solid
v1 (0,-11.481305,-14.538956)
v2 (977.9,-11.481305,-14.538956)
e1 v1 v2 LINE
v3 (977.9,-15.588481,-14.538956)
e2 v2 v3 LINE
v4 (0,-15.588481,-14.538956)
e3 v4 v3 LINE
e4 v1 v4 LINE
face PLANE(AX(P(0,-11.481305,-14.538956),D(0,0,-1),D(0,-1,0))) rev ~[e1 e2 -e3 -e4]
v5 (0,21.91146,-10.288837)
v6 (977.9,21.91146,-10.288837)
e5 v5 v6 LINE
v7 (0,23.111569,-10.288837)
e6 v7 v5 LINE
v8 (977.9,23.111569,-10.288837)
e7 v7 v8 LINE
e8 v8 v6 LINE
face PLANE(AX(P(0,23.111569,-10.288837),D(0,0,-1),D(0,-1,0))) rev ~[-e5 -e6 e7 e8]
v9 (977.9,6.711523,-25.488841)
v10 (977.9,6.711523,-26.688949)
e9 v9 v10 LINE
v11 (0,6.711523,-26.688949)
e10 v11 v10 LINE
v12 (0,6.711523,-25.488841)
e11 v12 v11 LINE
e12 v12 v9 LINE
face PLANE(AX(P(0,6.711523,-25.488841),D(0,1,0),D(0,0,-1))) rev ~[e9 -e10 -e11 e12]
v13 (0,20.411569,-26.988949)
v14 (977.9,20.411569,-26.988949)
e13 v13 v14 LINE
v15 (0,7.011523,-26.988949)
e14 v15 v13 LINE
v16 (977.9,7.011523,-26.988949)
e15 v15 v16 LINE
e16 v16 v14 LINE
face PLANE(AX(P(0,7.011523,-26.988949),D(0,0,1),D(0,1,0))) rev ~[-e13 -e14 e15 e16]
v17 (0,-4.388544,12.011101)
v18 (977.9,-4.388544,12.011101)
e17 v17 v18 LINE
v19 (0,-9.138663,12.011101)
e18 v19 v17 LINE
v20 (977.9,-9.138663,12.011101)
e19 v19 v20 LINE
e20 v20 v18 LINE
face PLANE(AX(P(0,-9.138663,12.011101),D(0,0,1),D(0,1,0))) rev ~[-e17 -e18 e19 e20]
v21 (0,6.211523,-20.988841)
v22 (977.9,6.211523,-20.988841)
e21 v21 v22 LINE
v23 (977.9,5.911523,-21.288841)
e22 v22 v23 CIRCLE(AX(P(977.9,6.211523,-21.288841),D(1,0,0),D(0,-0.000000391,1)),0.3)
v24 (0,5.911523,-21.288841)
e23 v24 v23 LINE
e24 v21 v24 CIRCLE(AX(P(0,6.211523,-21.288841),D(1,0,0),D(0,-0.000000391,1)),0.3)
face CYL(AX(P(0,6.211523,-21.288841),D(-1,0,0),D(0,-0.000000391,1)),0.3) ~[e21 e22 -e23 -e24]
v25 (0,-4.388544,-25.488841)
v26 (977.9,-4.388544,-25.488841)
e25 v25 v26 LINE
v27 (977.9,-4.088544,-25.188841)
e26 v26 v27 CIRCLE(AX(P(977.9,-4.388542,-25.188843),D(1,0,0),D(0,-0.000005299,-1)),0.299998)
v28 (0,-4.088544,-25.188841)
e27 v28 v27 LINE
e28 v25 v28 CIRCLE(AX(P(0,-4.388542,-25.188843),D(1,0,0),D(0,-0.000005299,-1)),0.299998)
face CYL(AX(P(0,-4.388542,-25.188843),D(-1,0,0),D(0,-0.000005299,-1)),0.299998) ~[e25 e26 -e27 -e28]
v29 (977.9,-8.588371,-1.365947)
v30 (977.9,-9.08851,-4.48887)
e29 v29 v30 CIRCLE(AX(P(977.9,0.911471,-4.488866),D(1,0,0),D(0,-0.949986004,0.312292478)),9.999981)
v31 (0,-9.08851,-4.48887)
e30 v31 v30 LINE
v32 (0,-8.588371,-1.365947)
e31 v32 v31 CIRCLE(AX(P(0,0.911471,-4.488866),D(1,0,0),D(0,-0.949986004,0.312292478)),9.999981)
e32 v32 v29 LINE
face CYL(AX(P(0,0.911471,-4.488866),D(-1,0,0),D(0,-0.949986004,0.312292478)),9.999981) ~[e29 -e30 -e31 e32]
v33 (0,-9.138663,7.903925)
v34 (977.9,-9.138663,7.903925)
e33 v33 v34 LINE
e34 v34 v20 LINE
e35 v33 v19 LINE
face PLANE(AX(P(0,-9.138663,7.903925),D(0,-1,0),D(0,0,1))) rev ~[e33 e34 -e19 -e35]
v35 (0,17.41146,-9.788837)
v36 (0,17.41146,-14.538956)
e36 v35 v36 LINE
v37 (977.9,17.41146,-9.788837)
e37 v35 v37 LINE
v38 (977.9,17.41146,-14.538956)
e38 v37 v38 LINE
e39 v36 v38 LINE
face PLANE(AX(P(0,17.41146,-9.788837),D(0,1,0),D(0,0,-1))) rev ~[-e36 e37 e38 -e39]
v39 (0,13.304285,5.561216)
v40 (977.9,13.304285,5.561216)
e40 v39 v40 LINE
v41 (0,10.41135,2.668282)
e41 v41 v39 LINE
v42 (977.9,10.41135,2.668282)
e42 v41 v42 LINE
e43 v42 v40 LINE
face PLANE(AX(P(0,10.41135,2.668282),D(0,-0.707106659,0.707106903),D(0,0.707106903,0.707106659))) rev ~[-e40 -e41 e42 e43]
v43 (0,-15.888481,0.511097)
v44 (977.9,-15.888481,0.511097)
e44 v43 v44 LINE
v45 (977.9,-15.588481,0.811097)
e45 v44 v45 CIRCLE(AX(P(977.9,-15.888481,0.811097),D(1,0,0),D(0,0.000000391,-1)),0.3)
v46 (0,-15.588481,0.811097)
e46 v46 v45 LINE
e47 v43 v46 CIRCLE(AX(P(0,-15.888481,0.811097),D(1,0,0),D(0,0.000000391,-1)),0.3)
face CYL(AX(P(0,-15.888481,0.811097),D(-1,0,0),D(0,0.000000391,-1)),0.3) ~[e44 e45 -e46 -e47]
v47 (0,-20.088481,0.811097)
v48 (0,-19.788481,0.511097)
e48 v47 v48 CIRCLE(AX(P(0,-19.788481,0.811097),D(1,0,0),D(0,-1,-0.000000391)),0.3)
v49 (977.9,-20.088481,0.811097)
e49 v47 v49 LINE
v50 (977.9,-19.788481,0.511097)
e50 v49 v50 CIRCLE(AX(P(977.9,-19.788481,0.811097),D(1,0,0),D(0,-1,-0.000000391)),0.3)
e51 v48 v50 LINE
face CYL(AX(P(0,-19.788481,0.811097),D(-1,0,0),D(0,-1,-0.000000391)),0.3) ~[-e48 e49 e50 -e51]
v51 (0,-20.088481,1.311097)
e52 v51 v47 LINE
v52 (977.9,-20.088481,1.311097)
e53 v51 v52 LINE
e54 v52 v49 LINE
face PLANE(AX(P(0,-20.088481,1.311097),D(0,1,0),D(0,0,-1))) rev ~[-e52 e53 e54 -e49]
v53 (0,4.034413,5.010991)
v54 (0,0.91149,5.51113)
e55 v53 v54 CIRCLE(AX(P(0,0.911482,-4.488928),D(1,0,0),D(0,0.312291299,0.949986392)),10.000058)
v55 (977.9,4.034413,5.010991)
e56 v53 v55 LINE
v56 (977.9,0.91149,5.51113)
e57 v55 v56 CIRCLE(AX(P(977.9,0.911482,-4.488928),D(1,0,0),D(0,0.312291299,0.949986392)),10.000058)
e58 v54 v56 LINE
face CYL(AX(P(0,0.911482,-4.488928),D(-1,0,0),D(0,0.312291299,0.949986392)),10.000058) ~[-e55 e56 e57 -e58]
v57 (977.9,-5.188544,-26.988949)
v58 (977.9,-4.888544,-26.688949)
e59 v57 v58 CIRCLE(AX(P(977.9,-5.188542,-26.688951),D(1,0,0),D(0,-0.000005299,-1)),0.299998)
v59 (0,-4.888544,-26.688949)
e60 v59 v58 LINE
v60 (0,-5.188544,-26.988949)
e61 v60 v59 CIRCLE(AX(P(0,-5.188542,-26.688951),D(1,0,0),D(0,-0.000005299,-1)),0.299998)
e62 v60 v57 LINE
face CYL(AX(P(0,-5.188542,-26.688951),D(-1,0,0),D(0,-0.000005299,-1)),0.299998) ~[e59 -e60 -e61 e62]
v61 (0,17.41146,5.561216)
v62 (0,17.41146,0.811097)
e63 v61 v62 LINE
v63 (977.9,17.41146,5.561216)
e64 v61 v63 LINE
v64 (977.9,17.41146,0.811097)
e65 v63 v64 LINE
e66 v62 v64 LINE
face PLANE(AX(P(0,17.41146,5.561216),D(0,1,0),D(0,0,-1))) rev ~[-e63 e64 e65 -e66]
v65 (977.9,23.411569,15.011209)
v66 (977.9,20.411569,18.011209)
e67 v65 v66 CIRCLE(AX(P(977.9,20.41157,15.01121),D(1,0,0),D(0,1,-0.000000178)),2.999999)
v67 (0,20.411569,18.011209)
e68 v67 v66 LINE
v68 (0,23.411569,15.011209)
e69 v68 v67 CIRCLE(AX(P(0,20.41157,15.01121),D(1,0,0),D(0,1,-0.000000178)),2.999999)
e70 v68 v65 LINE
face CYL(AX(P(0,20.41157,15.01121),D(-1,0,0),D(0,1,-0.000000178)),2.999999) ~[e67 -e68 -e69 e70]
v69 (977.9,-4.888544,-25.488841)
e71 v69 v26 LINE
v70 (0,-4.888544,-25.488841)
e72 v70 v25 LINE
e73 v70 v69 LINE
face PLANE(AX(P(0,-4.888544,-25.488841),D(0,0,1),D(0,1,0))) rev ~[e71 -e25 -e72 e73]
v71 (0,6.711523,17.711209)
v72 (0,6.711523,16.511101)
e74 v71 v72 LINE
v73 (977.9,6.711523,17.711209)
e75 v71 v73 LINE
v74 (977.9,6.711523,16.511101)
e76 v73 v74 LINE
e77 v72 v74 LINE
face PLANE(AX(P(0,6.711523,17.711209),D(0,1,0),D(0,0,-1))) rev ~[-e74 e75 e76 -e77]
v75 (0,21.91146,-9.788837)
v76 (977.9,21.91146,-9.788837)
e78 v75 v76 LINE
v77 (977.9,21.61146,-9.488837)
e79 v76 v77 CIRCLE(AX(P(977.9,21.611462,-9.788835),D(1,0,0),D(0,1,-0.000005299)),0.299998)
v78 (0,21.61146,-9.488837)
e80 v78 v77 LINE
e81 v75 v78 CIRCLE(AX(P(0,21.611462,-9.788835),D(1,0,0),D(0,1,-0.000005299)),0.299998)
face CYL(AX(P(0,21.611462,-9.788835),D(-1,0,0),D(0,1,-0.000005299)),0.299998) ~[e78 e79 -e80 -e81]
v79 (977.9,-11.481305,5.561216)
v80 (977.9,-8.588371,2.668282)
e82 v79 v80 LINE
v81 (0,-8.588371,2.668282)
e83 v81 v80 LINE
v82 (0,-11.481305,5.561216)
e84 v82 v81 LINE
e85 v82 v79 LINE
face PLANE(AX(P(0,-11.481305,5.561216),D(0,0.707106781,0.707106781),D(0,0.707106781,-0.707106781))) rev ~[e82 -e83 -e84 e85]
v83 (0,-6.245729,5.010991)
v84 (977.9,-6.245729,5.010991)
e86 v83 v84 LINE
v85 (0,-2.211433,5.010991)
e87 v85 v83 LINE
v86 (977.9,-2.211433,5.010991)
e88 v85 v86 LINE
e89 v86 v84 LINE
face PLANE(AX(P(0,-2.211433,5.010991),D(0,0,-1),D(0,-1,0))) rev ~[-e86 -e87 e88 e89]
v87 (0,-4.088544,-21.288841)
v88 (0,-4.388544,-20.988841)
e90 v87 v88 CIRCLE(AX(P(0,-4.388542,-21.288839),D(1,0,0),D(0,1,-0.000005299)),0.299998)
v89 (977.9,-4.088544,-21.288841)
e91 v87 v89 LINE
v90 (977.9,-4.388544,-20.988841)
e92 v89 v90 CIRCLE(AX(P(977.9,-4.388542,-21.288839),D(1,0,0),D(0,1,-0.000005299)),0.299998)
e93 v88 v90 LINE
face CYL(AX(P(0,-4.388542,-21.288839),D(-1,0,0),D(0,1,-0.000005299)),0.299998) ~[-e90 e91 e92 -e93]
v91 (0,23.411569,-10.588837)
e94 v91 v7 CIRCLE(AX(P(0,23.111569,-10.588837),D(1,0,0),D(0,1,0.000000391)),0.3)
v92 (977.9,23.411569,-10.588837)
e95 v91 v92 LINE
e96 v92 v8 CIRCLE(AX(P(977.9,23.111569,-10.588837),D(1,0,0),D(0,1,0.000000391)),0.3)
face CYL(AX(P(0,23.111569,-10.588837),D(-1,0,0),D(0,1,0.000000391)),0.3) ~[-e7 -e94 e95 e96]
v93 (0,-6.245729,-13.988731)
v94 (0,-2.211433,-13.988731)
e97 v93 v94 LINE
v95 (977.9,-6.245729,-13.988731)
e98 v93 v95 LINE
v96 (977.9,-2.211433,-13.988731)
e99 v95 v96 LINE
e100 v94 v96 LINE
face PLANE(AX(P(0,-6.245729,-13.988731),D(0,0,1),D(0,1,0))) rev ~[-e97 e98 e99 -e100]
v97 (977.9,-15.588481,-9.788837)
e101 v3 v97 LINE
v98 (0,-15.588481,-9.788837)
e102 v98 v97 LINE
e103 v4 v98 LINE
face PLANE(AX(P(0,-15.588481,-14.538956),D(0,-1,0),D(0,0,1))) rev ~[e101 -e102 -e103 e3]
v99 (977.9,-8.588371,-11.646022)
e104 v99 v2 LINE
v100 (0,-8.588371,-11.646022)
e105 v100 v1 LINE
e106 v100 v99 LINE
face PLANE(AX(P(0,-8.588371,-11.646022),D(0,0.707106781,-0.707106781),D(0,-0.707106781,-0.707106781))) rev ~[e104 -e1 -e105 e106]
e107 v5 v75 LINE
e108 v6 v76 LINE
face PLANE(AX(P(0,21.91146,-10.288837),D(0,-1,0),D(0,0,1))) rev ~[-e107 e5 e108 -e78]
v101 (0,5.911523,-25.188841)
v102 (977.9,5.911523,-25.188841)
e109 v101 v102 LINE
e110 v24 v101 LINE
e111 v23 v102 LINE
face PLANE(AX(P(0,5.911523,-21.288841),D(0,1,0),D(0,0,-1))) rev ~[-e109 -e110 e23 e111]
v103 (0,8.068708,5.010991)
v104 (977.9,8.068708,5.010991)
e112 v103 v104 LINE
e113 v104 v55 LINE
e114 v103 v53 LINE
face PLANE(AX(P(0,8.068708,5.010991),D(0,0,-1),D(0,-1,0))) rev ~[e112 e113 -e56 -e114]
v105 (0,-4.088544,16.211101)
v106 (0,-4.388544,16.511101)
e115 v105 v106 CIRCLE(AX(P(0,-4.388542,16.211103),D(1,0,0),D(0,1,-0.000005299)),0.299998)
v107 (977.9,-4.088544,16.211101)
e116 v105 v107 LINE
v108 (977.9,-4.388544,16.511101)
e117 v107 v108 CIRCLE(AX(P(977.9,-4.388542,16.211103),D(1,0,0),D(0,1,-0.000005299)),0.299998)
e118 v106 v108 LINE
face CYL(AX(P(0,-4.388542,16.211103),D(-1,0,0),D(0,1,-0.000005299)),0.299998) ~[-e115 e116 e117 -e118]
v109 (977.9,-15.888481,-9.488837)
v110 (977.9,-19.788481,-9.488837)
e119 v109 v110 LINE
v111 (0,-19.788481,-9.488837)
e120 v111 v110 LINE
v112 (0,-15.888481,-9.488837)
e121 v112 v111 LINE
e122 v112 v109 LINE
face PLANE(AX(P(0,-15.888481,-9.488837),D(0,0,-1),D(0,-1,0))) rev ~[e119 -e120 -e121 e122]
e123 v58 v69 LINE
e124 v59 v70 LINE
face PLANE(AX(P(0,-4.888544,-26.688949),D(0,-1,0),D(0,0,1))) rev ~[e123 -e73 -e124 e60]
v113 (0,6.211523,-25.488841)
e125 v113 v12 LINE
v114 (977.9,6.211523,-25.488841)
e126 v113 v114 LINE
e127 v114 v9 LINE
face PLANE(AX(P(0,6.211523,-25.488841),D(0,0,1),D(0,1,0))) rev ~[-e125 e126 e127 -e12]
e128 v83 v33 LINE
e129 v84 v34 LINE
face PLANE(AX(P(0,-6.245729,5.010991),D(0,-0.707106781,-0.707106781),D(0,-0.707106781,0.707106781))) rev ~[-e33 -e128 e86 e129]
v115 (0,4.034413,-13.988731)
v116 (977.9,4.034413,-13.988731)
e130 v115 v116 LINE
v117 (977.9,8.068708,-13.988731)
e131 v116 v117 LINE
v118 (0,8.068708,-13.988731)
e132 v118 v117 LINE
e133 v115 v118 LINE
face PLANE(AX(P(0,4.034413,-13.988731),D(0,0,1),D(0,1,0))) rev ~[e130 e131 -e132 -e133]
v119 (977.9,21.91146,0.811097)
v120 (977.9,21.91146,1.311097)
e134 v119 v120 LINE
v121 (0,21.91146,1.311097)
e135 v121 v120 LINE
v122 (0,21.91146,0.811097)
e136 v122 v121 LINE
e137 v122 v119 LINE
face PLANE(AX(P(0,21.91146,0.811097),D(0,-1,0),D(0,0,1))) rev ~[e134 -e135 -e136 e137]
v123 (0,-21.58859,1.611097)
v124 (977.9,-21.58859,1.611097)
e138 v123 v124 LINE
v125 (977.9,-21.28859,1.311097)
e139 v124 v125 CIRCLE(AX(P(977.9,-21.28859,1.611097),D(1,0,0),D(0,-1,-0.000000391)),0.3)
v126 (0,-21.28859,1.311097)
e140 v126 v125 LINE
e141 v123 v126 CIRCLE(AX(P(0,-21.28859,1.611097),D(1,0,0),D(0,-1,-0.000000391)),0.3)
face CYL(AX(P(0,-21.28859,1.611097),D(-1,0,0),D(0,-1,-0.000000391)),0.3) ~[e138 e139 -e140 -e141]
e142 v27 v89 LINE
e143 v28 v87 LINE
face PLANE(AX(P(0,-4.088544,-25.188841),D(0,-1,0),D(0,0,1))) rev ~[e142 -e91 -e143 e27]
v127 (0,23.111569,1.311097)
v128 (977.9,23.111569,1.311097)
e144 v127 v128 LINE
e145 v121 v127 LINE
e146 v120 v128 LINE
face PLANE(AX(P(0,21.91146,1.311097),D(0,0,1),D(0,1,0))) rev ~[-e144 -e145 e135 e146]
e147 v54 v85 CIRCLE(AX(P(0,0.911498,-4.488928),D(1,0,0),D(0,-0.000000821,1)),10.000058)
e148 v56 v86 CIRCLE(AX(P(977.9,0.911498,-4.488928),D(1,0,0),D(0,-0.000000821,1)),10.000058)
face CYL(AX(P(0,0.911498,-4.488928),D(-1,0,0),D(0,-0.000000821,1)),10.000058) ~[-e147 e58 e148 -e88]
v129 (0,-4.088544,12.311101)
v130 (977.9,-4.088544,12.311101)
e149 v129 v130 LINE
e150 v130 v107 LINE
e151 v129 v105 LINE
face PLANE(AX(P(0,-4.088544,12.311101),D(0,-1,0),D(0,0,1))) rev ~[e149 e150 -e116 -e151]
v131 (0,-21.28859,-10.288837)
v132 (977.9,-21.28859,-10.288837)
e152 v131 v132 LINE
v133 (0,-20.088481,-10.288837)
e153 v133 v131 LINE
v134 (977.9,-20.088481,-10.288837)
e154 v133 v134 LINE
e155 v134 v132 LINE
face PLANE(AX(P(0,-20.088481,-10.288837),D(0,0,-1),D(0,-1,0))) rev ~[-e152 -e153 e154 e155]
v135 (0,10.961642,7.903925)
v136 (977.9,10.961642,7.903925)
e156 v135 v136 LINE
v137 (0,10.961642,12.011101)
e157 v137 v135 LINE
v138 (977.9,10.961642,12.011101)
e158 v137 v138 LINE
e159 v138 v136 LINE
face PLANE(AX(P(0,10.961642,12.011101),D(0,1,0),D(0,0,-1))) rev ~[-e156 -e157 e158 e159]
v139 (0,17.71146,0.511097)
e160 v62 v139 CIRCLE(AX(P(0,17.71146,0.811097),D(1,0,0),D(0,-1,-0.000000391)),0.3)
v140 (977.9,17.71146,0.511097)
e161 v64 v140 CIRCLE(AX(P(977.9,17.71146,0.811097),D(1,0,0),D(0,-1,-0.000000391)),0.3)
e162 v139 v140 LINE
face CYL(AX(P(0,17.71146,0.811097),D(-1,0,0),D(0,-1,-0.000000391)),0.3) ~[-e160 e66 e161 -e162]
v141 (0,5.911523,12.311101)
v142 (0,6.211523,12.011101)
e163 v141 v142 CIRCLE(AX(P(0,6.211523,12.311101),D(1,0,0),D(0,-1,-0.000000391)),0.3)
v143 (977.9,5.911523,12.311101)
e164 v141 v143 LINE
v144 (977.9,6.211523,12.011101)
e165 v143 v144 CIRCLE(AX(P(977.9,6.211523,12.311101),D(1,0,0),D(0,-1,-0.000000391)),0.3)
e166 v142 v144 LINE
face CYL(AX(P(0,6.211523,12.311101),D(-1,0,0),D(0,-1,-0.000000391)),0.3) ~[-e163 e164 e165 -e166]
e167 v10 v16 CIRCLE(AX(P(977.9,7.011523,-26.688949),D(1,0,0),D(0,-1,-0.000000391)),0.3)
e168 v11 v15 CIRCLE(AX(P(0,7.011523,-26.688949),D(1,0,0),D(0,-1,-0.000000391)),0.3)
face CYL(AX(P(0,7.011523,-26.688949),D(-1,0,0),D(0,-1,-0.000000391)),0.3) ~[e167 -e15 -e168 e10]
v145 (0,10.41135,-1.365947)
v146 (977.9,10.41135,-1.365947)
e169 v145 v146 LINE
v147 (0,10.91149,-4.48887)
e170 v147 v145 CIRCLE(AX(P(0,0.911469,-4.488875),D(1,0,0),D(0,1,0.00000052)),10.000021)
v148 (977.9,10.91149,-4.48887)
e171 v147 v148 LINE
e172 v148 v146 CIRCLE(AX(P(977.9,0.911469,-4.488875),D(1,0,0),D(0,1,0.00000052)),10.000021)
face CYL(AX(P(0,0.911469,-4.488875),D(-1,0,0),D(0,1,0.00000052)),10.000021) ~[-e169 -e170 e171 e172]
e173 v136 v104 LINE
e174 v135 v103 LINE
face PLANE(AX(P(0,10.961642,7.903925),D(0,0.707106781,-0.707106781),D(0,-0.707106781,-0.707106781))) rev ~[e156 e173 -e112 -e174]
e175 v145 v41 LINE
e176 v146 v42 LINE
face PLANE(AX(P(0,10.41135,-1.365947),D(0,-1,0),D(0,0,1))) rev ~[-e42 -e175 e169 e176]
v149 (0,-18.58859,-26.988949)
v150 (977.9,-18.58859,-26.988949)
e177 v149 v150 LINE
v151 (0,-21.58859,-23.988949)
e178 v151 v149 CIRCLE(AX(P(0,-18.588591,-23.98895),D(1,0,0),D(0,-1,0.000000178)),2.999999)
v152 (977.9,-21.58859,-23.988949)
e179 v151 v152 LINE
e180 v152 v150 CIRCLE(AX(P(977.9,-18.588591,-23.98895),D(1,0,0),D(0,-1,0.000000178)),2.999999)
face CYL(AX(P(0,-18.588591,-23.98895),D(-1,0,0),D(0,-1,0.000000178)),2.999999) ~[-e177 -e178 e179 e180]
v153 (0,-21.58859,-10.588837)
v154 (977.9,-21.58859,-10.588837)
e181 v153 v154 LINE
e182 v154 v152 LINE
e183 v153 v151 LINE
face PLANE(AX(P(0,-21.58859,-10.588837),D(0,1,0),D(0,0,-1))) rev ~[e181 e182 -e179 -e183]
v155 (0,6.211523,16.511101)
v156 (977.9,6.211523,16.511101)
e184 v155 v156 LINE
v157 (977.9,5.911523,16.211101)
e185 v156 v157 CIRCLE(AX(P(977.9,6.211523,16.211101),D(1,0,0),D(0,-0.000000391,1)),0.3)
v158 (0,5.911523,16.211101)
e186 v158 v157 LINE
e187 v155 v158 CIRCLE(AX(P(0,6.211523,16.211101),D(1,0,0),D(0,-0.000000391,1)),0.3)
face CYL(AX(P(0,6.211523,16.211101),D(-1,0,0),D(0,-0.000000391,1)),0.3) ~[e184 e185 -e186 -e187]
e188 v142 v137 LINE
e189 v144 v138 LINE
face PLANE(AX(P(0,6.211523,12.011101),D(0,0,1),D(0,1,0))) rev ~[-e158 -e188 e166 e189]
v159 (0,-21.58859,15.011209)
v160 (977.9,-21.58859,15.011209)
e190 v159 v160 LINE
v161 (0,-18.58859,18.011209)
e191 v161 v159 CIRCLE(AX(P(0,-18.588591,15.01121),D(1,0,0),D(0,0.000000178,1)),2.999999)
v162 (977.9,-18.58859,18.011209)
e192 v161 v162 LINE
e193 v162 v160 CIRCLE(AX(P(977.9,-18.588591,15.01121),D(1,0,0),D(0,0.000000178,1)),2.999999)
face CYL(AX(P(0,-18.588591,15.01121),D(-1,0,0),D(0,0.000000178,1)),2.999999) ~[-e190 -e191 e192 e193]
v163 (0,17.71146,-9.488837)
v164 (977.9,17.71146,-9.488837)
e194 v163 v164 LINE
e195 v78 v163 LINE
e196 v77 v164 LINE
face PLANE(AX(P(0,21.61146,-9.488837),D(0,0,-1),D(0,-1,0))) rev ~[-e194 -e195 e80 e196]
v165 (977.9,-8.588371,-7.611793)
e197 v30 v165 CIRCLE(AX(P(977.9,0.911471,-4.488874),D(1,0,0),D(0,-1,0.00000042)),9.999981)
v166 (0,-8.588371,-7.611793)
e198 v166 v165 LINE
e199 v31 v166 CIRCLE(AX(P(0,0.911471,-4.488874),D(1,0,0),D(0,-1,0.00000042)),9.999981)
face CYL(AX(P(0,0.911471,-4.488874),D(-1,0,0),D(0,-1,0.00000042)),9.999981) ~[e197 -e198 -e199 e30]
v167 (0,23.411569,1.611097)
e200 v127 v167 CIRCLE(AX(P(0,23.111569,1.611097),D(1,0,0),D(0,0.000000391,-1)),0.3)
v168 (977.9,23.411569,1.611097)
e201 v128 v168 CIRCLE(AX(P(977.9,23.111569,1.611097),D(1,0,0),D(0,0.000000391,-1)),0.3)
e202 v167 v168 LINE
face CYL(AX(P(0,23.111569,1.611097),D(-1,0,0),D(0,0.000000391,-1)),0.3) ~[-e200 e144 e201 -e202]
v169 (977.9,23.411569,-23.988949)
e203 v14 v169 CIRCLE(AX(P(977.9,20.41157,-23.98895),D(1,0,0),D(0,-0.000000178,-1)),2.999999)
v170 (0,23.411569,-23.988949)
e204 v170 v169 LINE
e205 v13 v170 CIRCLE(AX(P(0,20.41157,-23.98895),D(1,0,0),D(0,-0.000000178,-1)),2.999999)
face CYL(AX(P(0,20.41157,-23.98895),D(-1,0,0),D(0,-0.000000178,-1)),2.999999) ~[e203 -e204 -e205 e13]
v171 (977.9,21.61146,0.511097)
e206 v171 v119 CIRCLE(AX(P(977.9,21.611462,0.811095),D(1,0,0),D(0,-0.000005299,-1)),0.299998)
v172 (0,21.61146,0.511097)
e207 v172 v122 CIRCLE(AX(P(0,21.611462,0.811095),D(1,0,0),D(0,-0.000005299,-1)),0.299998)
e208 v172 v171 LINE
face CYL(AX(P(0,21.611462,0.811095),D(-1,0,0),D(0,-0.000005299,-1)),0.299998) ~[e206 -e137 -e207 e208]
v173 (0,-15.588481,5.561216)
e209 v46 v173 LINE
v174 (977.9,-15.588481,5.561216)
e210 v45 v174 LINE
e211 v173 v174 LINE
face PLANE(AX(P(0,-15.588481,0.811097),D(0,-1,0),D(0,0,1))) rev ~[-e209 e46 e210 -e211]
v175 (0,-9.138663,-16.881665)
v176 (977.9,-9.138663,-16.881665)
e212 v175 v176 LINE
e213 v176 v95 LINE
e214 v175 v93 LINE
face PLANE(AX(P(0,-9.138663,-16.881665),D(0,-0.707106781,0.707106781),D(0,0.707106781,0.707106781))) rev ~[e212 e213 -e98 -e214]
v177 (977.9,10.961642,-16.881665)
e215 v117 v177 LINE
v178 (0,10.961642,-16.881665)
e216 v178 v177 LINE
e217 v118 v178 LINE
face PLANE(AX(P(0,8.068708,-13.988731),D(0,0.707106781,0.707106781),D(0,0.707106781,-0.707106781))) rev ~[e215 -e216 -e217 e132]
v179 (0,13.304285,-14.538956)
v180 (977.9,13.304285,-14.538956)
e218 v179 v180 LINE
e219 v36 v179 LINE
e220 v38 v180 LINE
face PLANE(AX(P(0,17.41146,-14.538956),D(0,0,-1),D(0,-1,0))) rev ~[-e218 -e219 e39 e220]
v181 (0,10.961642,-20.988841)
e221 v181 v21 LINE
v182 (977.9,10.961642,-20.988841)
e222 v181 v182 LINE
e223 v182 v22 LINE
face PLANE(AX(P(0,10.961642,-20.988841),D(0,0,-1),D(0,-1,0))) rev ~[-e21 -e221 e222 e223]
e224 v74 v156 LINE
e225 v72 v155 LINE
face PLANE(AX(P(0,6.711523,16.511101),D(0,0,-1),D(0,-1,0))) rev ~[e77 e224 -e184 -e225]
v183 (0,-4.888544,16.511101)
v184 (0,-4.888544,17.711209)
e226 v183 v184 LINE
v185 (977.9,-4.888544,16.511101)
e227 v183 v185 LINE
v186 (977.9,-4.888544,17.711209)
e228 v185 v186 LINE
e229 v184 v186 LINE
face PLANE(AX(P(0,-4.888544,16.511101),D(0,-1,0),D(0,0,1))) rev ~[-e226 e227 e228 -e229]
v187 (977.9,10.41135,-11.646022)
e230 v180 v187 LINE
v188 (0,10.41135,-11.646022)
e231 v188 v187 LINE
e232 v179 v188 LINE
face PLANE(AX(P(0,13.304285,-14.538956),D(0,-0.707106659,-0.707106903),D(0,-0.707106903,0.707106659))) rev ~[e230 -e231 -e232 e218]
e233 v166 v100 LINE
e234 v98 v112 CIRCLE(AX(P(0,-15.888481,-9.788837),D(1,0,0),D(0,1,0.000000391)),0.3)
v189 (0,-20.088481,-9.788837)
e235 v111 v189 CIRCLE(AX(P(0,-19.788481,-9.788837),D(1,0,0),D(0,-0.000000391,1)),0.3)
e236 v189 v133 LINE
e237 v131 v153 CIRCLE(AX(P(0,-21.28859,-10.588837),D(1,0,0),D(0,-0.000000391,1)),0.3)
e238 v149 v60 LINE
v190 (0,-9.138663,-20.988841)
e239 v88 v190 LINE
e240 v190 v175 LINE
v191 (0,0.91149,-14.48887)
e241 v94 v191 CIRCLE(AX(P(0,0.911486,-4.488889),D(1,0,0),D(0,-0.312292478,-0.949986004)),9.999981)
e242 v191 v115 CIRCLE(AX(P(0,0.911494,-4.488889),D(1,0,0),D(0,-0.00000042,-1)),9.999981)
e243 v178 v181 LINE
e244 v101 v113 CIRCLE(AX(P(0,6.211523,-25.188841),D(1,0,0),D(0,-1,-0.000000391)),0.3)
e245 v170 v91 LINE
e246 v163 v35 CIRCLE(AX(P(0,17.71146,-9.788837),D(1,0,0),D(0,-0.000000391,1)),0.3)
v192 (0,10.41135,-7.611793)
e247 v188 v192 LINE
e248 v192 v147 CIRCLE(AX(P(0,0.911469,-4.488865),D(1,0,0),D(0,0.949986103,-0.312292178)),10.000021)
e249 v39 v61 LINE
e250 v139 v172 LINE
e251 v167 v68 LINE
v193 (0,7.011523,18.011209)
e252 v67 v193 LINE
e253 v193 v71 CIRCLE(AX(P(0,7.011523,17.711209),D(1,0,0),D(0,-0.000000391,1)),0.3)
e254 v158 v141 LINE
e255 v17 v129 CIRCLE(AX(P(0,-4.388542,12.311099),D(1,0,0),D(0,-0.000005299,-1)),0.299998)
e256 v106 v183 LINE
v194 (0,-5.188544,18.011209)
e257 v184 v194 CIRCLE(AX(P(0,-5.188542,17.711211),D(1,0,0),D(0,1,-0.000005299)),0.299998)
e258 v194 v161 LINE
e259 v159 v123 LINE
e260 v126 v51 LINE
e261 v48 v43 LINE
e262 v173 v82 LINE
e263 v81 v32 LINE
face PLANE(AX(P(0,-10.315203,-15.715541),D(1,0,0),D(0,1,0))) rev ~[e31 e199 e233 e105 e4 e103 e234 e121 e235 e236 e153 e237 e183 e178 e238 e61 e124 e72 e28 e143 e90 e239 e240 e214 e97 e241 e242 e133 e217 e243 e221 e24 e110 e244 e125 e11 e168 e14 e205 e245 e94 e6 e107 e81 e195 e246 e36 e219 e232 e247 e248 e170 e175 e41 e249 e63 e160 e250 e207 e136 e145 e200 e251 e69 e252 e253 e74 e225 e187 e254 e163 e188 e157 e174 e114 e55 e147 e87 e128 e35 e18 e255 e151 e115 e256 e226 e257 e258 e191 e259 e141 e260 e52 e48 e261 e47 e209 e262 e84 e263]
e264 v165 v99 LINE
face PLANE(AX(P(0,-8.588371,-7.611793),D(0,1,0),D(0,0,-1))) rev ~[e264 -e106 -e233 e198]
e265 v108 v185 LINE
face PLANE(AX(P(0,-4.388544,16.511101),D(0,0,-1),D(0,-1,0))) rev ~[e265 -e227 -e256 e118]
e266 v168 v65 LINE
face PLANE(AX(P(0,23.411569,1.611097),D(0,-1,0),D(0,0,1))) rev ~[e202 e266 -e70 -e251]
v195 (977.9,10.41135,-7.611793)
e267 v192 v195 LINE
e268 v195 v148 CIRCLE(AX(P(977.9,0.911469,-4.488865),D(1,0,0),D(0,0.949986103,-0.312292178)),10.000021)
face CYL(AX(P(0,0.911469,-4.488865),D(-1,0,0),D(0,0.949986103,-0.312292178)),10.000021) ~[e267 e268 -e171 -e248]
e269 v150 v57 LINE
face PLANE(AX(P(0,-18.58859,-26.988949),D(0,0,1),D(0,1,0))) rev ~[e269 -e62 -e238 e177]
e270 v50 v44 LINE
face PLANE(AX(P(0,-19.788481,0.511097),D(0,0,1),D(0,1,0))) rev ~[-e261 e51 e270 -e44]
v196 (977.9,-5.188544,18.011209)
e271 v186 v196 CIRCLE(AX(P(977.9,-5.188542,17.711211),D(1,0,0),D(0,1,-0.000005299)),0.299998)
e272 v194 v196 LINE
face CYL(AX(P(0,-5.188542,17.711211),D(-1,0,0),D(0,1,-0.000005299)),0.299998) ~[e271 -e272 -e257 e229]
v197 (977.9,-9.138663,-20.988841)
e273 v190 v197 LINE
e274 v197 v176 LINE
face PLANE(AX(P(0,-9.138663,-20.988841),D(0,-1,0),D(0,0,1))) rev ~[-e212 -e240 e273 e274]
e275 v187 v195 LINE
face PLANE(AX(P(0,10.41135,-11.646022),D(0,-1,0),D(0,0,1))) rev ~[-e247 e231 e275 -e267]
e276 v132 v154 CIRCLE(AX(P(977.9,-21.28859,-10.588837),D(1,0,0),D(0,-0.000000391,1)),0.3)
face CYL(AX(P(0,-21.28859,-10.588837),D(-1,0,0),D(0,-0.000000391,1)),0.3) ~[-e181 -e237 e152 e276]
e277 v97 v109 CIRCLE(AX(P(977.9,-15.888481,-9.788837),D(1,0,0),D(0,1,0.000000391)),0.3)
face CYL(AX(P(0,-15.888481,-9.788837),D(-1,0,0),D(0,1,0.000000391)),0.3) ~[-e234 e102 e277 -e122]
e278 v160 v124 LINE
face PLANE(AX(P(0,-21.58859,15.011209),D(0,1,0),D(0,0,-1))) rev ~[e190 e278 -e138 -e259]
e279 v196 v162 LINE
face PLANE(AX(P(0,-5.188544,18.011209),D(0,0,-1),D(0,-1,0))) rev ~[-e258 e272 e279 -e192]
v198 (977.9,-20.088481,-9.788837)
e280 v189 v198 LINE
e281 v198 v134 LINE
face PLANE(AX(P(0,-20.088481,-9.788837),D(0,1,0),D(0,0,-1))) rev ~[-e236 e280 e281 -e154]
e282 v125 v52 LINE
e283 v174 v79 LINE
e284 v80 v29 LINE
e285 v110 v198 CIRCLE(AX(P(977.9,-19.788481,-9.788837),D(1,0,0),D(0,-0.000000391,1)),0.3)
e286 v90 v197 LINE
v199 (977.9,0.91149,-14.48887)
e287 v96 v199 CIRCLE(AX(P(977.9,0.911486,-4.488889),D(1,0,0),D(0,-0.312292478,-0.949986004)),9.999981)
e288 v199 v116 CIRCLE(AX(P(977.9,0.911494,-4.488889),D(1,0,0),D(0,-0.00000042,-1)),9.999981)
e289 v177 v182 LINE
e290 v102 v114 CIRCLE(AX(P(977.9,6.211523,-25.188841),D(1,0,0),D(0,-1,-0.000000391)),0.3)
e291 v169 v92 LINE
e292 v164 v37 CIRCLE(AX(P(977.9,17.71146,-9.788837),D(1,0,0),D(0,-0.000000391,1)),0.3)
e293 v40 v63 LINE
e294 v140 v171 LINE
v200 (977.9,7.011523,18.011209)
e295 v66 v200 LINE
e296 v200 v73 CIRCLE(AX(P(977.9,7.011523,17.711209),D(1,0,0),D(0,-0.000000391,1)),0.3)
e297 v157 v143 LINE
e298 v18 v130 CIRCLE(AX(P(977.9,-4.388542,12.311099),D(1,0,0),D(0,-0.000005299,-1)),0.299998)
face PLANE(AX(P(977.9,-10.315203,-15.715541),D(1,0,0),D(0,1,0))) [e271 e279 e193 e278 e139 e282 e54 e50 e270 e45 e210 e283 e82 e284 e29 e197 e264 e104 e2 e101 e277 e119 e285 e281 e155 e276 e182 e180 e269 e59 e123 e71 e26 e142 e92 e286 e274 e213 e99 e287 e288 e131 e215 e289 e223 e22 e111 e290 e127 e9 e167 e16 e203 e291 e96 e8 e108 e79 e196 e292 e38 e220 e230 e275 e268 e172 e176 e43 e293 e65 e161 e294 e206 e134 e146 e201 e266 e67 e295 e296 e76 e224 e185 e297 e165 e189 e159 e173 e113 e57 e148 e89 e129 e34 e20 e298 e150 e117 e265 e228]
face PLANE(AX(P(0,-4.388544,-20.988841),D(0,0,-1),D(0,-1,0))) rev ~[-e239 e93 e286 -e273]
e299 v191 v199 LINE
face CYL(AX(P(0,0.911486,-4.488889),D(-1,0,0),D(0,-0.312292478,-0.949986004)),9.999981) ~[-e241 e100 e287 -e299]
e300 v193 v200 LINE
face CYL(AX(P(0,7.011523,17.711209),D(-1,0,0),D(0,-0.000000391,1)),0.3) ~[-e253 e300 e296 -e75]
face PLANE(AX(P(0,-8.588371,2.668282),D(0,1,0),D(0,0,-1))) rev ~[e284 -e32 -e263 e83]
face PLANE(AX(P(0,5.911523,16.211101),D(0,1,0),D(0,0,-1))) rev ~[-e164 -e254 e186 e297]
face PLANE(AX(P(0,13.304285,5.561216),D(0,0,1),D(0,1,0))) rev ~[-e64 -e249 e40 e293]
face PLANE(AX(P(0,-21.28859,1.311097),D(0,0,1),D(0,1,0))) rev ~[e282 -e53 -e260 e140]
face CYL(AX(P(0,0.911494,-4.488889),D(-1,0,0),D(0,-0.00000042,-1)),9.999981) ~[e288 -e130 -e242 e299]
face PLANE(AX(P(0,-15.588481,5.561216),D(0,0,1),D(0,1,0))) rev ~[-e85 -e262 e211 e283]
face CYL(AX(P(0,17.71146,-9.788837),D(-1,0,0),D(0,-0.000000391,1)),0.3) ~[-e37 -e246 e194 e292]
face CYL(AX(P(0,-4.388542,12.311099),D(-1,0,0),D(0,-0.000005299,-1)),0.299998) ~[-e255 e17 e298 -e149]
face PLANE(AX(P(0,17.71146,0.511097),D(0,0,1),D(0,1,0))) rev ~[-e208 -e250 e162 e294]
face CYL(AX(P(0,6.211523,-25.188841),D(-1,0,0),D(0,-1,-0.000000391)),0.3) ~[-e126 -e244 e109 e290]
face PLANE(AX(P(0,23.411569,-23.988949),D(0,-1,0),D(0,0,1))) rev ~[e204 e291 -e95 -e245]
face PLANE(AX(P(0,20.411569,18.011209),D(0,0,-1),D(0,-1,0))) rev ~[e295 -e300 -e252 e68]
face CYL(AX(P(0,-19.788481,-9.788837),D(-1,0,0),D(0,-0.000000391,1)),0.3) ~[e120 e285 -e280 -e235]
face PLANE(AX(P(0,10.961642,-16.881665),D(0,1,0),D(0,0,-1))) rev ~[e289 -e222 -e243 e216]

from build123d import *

# Parameters (mm, degrees)
F1_DEPTH = 977.9


with BuildPart() as f1:
    # F0 (on Right) → F1 (new body)
    with BuildSketch(Plane.YZ):
        with BuildLine():
            Line((-20.088481, -9.788837), (-20.088481, -10.288837))
            Line((-20.088481, -10.288837), (-21.28859, -10.288837))
            ThreePointArc((-21.28859, -10.288837), (-21.500722, -10.376705), (-21.58859, -10.588837))
            Line((-21.58859, -10.588837), (-21.58859, -23.988949))
            ThreePointArc((-21.58859, -23.988949), (-20.70991, -26.11027), (-18.58859, -26.988949))
            Line((-18.58859, -26.988949), (-5.188544, -26.988949))
            ThreePointArc((-5.188544, -26.988949), (-4.976411, -26.901081), (-4.888544, -26.688949))
            Line((-4.888544, -26.688949), (-4.888544, -25.488841))
            Line((-4.888544, -25.488841), (-4.388544, -25.488841))
            ThreePointArc((-4.388544, -25.488841), (-4.176411, -25.400973), (-4.088544, -25.188841))
            Line((-4.088544, -25.188841), (-4.088544, -21.288841))
            ThreePointArc((-4.088544, -21.288841), (-4.176411, -21.076709), (-4.388544, -20.988841))
            Line((-4.388544, -20.988841), (-9.138663, -20.988841))
            Line((-9.138663, -20.988841), (-9.138663, -16.881665))
            Line((-9.138663, -16.881665), (-6.245729, -13.988731))
            Line((-6.245729, -13.988731), (-2.211433, -13.988731))
            ThreePointArc((-2.211433, -13.988731), (-0.669869, -14.363044), (0.91149, -14.48887))
            Line((0.91149, -14.48887), (0.91149, -4.48887))
            Line((0.91149, -4.48887), (-9.08851, -4.48887))
            ThreePointArc((-9.08851, -4.48887), (-8.962684, -6.070229), (-8.588371, -7.611793))
            Line((-8.588371, -7.611793), (-8.588371, -11.646022))
            Line((-8.588371, -11.646022), (-11.481305, -14.538956))
            Line((-11.481305, -14.538956), (-15.588481, -14.538956))
            Line((-15.588481, -14.538956), (-15.588481, -9.788837))
            ThreePointArc((-15.588481, -9.788837), (-15.676349, -9.576705), (-15.888481, -9.488837))
            Line((-15.888481, -9.488837), (-19.788481, -9.488837))
            ThreePointArc((-19.788481, -9.488837), (-20.000613, -9.576705), (-20.088481, -9.788837))
        make_face()
        with BuildLine():
            ThreePointArc((-8.588371, -1.365947), (-8.962684, -2.907511), (-9.08851, -4.48887))
            Line((-9.08851, -4.48887), (0.91149, -4.48887))
            Line((0.91149, -4.48887), (0.91149, 5.51113))
            ThreePointArc((0.91149, 5.51113), (-0.669869, 5.385303), (-2.211433, 5.010991))
            Line((-2.211433, 5.010991), (-6.245729, 5.010991))
            Line((-6.245729, 5.010991), (-9.138663, 7.903925))
            Line((-9.138663, 7.903925), (-9.138663, 12.011101))
            Line((-9.138663, 12.011101), (-4.388544, 12.011101))
            ThreePointArc((-4.388544, 12.011101), (-4.176411, 12.098969), (-4.088544, 12.311101))
            Line((-4.088544, 12.311101), (-4.088544, 16.211101))
            ThreePointArc((-4.088544, 16.211101), (-4.176411, 16.423233), (-4.388544, 16.511101))
            Line((-4.388544, 16.511101), (-4.888544, 16.511101))
            Line((-4.888544, 16.511101), (-4.888544, 17.711209))
            ThreePointArc((-4.888544, 17.711209), (-4.976411, 17.923341), (-5.188544, 18.011209))
            Line((-5.188544, 18.011209), (-18.58859, 18.011209))
            ThreePointArc((-18.58859, 18.011209), (-20.70991, 17.13253), (-21.58859, 15.011209))
            Line((-21.58859, 15.011209), (-21.58859, 1.611097))
            ThreePointArc((-21.58859, 1.611097), (-21.500722, 1.398965), (-21.28859, 1.311097))
            Line((-21.28859, 1.311097), (-20.088481, 1.311097))
            Line((-20.088481, 1.311097), (-20.088481, 0.811097))
            ThreePointArc((-20.088481, 0.811097), (-20.000613, 0.598965), (-19.788481, 0.511097))
            Line((-19.788481, 0.511097), (-15.888481, 0.511097))
            ThreePointArc((-15.888481, 0.511097), (-15.676349, 0.598965), (-15.588481, 0.811097))
            Line((-15.588481, 0.811097), (-15.588481, 5.561216))
            Line((-15.588481, 5.561216), (-11.481305, 5.561216))
            Line((-11.481305, 5.561216), (-8.588371, 2.668282))
            Line((-8.588371, 2.668282), (-8.588371, -1.365947))
        make_face()
        with BuildLine():
            Line((0.91149, 5.51113), (0.91149, -4.48887))
            Line((0.91149, -4.48887), (10.91149, -4.48887))
            ThreePointArc((10.91149, -4.48887), (10.785663, -2.907511), (10.41135, -1.365947))
            Line((10.41135, -1.365947), (10.41135, 2.668282))
            Line((10.41135, 2.668282), (13.304285, 5.561216))
            Line((13.304285, 5.561216), (14.016842, 5.561216))
            Line((14.016842, 5.561216), (17.41146, 5.561216))
            Line((17.41146, 5.561216), (17.41146, 0.811097))
            ThreePointArc((17.41146, 0.811097), (17.499328, 0.598965), (17.71146, 0.511097))
            Line((17.71146, 0.511097), (21.61146, 0.511097))
            ThreePointArc((21.61146, 0.511097), (21.823593, 0.598965), (21.91146, 0.811097))
            Line((21.91146, 0.811097), (21.91146, 1.311097))
            Line((21.91146, 1.311097), (23.111569, 1.311097))
            ThreePointArc((23.111569, 1.311097), (23.323701, 1.398965), (23.411569, 1.611097))
            Line((23.411569, 1.611097), (23.411569, 15.011209))
            ThreePointArc((23.411569, 15.011209), (22.532889, 17.13253), (20.411569, 18.011209))
            Line((20.411569, 18.011209), (7.011523, 18.011209))
            ThreePointArc((7.011523, 18.011209), (6.799391, 17.923341), (6.711523, 17.711209))
            Line((6.711523, 17.711209), (6.711523, 16.511101))
            Line((6.711523, 16.511101), (6.211523, 16.511101))
            ThreePointArc((6.211523, 16.511101), (5.999391, 16.423233), (5.911523, 16.211101))
            Line((5.911523, 16.211101), (5.911523, 12.311101))
            ThreePointArc((5.911523, 12.311101), (5.999391, 12.098969), (6.211523, 12.011101))
            Line((6.211523, 12.011101), (10.961642, 12.011101))
            Line((10.961642, 12.011101), (10.961642, 7.903925))
            Line((10.961642, 7.903925), (8.068708, 5.010991))
            Line((8.068708, 5.010991), (4.034413, 5.010991))
            ThreePointArc((4.034413, 5.010991), (2.492849, 5.385303), (0.91149, 5.51113))
        make_face()
        with BuildLine():
            Line((10.91149, -4.48887), (0.91149, -4.48887))
            Line((0.91149, -4.48887), (0.91149, -14.48887))
            ThreePointArc((0.91149, -14.48887), (2.492849, -14.363044), (4.034413, -13.988731))
            Line((4.034413, -13.988731), (8.068708, -13.988731))
            Line((8.068708, -13.988731), (10.961642, -16.881665))
            Line((10.961642, -16.881665), (10.961642, -20.988841))
            Line((10.961642, -20.988841), (6.211523, -20.988841))
            ThreePointArc((6.211523, -20.988841), (5.999391, -21.076709), (5.911523, -21.288841))
            Line((5.911523, -21.288841), (5.911523, -25.188841))
            ThreePointArc((5.911523, -25.188841), (5.999391, -25.400973), (6.211523, -25.488841))
            Line((6.211523, -25.488841), (6.711523, -25.488841))
            Line((6.711523, -25.488841), (6.711523, -26.688949))
            ThreePointArc((6.711523, -26.688949), (6.799391, -26.901081), (7.011523, -26.988949))
            Line((7.011523, -26.988949), (20.411569, -26.988949))
            ThreePointArc((20.411569, -26.988949), (22.532889, -26.11027), (23.411569, -23.988949))
            Line((23.411569, -23.988949), (23.411569, -10.588837))
            ThreePointArc((23.411569, -10.588837), (23.323701, -10.376705), (23.111569, -10.288837))
            Line((23.111569, -10.288837), (21.91146, -10.288837))
            Line((21.91146, -10.288837), (21.91146, -9.788837))
            ThreePointArc((21.91146, -9.788837), (21.823593, -9.576705), (21.61146, -9.488837))
            Line((21.61146, -9.488837), (17.71146, -9.488837))
            ThreePointArc((17.71146, -9.488837), (17.499328, -9.576705), (17.41146, -9.788837))
            Line((17.41146, -9.788837), (17.41146, -14.538956))
            Line((17.41146, -14.538956), (13.304285, -14.538956))
            Line((13.304285, -14.538956), (10.41135, -11.646022))
            Line((10.41135, -11.646022), (10.41135, -7.611793))
            ThreePointArc((10.41135, -7.611793), (10.785663, -6.070229), (10.91149, -4.48887))
        make_face()
    extrude(amount=F1_DEPTH)


solid = f1.part
